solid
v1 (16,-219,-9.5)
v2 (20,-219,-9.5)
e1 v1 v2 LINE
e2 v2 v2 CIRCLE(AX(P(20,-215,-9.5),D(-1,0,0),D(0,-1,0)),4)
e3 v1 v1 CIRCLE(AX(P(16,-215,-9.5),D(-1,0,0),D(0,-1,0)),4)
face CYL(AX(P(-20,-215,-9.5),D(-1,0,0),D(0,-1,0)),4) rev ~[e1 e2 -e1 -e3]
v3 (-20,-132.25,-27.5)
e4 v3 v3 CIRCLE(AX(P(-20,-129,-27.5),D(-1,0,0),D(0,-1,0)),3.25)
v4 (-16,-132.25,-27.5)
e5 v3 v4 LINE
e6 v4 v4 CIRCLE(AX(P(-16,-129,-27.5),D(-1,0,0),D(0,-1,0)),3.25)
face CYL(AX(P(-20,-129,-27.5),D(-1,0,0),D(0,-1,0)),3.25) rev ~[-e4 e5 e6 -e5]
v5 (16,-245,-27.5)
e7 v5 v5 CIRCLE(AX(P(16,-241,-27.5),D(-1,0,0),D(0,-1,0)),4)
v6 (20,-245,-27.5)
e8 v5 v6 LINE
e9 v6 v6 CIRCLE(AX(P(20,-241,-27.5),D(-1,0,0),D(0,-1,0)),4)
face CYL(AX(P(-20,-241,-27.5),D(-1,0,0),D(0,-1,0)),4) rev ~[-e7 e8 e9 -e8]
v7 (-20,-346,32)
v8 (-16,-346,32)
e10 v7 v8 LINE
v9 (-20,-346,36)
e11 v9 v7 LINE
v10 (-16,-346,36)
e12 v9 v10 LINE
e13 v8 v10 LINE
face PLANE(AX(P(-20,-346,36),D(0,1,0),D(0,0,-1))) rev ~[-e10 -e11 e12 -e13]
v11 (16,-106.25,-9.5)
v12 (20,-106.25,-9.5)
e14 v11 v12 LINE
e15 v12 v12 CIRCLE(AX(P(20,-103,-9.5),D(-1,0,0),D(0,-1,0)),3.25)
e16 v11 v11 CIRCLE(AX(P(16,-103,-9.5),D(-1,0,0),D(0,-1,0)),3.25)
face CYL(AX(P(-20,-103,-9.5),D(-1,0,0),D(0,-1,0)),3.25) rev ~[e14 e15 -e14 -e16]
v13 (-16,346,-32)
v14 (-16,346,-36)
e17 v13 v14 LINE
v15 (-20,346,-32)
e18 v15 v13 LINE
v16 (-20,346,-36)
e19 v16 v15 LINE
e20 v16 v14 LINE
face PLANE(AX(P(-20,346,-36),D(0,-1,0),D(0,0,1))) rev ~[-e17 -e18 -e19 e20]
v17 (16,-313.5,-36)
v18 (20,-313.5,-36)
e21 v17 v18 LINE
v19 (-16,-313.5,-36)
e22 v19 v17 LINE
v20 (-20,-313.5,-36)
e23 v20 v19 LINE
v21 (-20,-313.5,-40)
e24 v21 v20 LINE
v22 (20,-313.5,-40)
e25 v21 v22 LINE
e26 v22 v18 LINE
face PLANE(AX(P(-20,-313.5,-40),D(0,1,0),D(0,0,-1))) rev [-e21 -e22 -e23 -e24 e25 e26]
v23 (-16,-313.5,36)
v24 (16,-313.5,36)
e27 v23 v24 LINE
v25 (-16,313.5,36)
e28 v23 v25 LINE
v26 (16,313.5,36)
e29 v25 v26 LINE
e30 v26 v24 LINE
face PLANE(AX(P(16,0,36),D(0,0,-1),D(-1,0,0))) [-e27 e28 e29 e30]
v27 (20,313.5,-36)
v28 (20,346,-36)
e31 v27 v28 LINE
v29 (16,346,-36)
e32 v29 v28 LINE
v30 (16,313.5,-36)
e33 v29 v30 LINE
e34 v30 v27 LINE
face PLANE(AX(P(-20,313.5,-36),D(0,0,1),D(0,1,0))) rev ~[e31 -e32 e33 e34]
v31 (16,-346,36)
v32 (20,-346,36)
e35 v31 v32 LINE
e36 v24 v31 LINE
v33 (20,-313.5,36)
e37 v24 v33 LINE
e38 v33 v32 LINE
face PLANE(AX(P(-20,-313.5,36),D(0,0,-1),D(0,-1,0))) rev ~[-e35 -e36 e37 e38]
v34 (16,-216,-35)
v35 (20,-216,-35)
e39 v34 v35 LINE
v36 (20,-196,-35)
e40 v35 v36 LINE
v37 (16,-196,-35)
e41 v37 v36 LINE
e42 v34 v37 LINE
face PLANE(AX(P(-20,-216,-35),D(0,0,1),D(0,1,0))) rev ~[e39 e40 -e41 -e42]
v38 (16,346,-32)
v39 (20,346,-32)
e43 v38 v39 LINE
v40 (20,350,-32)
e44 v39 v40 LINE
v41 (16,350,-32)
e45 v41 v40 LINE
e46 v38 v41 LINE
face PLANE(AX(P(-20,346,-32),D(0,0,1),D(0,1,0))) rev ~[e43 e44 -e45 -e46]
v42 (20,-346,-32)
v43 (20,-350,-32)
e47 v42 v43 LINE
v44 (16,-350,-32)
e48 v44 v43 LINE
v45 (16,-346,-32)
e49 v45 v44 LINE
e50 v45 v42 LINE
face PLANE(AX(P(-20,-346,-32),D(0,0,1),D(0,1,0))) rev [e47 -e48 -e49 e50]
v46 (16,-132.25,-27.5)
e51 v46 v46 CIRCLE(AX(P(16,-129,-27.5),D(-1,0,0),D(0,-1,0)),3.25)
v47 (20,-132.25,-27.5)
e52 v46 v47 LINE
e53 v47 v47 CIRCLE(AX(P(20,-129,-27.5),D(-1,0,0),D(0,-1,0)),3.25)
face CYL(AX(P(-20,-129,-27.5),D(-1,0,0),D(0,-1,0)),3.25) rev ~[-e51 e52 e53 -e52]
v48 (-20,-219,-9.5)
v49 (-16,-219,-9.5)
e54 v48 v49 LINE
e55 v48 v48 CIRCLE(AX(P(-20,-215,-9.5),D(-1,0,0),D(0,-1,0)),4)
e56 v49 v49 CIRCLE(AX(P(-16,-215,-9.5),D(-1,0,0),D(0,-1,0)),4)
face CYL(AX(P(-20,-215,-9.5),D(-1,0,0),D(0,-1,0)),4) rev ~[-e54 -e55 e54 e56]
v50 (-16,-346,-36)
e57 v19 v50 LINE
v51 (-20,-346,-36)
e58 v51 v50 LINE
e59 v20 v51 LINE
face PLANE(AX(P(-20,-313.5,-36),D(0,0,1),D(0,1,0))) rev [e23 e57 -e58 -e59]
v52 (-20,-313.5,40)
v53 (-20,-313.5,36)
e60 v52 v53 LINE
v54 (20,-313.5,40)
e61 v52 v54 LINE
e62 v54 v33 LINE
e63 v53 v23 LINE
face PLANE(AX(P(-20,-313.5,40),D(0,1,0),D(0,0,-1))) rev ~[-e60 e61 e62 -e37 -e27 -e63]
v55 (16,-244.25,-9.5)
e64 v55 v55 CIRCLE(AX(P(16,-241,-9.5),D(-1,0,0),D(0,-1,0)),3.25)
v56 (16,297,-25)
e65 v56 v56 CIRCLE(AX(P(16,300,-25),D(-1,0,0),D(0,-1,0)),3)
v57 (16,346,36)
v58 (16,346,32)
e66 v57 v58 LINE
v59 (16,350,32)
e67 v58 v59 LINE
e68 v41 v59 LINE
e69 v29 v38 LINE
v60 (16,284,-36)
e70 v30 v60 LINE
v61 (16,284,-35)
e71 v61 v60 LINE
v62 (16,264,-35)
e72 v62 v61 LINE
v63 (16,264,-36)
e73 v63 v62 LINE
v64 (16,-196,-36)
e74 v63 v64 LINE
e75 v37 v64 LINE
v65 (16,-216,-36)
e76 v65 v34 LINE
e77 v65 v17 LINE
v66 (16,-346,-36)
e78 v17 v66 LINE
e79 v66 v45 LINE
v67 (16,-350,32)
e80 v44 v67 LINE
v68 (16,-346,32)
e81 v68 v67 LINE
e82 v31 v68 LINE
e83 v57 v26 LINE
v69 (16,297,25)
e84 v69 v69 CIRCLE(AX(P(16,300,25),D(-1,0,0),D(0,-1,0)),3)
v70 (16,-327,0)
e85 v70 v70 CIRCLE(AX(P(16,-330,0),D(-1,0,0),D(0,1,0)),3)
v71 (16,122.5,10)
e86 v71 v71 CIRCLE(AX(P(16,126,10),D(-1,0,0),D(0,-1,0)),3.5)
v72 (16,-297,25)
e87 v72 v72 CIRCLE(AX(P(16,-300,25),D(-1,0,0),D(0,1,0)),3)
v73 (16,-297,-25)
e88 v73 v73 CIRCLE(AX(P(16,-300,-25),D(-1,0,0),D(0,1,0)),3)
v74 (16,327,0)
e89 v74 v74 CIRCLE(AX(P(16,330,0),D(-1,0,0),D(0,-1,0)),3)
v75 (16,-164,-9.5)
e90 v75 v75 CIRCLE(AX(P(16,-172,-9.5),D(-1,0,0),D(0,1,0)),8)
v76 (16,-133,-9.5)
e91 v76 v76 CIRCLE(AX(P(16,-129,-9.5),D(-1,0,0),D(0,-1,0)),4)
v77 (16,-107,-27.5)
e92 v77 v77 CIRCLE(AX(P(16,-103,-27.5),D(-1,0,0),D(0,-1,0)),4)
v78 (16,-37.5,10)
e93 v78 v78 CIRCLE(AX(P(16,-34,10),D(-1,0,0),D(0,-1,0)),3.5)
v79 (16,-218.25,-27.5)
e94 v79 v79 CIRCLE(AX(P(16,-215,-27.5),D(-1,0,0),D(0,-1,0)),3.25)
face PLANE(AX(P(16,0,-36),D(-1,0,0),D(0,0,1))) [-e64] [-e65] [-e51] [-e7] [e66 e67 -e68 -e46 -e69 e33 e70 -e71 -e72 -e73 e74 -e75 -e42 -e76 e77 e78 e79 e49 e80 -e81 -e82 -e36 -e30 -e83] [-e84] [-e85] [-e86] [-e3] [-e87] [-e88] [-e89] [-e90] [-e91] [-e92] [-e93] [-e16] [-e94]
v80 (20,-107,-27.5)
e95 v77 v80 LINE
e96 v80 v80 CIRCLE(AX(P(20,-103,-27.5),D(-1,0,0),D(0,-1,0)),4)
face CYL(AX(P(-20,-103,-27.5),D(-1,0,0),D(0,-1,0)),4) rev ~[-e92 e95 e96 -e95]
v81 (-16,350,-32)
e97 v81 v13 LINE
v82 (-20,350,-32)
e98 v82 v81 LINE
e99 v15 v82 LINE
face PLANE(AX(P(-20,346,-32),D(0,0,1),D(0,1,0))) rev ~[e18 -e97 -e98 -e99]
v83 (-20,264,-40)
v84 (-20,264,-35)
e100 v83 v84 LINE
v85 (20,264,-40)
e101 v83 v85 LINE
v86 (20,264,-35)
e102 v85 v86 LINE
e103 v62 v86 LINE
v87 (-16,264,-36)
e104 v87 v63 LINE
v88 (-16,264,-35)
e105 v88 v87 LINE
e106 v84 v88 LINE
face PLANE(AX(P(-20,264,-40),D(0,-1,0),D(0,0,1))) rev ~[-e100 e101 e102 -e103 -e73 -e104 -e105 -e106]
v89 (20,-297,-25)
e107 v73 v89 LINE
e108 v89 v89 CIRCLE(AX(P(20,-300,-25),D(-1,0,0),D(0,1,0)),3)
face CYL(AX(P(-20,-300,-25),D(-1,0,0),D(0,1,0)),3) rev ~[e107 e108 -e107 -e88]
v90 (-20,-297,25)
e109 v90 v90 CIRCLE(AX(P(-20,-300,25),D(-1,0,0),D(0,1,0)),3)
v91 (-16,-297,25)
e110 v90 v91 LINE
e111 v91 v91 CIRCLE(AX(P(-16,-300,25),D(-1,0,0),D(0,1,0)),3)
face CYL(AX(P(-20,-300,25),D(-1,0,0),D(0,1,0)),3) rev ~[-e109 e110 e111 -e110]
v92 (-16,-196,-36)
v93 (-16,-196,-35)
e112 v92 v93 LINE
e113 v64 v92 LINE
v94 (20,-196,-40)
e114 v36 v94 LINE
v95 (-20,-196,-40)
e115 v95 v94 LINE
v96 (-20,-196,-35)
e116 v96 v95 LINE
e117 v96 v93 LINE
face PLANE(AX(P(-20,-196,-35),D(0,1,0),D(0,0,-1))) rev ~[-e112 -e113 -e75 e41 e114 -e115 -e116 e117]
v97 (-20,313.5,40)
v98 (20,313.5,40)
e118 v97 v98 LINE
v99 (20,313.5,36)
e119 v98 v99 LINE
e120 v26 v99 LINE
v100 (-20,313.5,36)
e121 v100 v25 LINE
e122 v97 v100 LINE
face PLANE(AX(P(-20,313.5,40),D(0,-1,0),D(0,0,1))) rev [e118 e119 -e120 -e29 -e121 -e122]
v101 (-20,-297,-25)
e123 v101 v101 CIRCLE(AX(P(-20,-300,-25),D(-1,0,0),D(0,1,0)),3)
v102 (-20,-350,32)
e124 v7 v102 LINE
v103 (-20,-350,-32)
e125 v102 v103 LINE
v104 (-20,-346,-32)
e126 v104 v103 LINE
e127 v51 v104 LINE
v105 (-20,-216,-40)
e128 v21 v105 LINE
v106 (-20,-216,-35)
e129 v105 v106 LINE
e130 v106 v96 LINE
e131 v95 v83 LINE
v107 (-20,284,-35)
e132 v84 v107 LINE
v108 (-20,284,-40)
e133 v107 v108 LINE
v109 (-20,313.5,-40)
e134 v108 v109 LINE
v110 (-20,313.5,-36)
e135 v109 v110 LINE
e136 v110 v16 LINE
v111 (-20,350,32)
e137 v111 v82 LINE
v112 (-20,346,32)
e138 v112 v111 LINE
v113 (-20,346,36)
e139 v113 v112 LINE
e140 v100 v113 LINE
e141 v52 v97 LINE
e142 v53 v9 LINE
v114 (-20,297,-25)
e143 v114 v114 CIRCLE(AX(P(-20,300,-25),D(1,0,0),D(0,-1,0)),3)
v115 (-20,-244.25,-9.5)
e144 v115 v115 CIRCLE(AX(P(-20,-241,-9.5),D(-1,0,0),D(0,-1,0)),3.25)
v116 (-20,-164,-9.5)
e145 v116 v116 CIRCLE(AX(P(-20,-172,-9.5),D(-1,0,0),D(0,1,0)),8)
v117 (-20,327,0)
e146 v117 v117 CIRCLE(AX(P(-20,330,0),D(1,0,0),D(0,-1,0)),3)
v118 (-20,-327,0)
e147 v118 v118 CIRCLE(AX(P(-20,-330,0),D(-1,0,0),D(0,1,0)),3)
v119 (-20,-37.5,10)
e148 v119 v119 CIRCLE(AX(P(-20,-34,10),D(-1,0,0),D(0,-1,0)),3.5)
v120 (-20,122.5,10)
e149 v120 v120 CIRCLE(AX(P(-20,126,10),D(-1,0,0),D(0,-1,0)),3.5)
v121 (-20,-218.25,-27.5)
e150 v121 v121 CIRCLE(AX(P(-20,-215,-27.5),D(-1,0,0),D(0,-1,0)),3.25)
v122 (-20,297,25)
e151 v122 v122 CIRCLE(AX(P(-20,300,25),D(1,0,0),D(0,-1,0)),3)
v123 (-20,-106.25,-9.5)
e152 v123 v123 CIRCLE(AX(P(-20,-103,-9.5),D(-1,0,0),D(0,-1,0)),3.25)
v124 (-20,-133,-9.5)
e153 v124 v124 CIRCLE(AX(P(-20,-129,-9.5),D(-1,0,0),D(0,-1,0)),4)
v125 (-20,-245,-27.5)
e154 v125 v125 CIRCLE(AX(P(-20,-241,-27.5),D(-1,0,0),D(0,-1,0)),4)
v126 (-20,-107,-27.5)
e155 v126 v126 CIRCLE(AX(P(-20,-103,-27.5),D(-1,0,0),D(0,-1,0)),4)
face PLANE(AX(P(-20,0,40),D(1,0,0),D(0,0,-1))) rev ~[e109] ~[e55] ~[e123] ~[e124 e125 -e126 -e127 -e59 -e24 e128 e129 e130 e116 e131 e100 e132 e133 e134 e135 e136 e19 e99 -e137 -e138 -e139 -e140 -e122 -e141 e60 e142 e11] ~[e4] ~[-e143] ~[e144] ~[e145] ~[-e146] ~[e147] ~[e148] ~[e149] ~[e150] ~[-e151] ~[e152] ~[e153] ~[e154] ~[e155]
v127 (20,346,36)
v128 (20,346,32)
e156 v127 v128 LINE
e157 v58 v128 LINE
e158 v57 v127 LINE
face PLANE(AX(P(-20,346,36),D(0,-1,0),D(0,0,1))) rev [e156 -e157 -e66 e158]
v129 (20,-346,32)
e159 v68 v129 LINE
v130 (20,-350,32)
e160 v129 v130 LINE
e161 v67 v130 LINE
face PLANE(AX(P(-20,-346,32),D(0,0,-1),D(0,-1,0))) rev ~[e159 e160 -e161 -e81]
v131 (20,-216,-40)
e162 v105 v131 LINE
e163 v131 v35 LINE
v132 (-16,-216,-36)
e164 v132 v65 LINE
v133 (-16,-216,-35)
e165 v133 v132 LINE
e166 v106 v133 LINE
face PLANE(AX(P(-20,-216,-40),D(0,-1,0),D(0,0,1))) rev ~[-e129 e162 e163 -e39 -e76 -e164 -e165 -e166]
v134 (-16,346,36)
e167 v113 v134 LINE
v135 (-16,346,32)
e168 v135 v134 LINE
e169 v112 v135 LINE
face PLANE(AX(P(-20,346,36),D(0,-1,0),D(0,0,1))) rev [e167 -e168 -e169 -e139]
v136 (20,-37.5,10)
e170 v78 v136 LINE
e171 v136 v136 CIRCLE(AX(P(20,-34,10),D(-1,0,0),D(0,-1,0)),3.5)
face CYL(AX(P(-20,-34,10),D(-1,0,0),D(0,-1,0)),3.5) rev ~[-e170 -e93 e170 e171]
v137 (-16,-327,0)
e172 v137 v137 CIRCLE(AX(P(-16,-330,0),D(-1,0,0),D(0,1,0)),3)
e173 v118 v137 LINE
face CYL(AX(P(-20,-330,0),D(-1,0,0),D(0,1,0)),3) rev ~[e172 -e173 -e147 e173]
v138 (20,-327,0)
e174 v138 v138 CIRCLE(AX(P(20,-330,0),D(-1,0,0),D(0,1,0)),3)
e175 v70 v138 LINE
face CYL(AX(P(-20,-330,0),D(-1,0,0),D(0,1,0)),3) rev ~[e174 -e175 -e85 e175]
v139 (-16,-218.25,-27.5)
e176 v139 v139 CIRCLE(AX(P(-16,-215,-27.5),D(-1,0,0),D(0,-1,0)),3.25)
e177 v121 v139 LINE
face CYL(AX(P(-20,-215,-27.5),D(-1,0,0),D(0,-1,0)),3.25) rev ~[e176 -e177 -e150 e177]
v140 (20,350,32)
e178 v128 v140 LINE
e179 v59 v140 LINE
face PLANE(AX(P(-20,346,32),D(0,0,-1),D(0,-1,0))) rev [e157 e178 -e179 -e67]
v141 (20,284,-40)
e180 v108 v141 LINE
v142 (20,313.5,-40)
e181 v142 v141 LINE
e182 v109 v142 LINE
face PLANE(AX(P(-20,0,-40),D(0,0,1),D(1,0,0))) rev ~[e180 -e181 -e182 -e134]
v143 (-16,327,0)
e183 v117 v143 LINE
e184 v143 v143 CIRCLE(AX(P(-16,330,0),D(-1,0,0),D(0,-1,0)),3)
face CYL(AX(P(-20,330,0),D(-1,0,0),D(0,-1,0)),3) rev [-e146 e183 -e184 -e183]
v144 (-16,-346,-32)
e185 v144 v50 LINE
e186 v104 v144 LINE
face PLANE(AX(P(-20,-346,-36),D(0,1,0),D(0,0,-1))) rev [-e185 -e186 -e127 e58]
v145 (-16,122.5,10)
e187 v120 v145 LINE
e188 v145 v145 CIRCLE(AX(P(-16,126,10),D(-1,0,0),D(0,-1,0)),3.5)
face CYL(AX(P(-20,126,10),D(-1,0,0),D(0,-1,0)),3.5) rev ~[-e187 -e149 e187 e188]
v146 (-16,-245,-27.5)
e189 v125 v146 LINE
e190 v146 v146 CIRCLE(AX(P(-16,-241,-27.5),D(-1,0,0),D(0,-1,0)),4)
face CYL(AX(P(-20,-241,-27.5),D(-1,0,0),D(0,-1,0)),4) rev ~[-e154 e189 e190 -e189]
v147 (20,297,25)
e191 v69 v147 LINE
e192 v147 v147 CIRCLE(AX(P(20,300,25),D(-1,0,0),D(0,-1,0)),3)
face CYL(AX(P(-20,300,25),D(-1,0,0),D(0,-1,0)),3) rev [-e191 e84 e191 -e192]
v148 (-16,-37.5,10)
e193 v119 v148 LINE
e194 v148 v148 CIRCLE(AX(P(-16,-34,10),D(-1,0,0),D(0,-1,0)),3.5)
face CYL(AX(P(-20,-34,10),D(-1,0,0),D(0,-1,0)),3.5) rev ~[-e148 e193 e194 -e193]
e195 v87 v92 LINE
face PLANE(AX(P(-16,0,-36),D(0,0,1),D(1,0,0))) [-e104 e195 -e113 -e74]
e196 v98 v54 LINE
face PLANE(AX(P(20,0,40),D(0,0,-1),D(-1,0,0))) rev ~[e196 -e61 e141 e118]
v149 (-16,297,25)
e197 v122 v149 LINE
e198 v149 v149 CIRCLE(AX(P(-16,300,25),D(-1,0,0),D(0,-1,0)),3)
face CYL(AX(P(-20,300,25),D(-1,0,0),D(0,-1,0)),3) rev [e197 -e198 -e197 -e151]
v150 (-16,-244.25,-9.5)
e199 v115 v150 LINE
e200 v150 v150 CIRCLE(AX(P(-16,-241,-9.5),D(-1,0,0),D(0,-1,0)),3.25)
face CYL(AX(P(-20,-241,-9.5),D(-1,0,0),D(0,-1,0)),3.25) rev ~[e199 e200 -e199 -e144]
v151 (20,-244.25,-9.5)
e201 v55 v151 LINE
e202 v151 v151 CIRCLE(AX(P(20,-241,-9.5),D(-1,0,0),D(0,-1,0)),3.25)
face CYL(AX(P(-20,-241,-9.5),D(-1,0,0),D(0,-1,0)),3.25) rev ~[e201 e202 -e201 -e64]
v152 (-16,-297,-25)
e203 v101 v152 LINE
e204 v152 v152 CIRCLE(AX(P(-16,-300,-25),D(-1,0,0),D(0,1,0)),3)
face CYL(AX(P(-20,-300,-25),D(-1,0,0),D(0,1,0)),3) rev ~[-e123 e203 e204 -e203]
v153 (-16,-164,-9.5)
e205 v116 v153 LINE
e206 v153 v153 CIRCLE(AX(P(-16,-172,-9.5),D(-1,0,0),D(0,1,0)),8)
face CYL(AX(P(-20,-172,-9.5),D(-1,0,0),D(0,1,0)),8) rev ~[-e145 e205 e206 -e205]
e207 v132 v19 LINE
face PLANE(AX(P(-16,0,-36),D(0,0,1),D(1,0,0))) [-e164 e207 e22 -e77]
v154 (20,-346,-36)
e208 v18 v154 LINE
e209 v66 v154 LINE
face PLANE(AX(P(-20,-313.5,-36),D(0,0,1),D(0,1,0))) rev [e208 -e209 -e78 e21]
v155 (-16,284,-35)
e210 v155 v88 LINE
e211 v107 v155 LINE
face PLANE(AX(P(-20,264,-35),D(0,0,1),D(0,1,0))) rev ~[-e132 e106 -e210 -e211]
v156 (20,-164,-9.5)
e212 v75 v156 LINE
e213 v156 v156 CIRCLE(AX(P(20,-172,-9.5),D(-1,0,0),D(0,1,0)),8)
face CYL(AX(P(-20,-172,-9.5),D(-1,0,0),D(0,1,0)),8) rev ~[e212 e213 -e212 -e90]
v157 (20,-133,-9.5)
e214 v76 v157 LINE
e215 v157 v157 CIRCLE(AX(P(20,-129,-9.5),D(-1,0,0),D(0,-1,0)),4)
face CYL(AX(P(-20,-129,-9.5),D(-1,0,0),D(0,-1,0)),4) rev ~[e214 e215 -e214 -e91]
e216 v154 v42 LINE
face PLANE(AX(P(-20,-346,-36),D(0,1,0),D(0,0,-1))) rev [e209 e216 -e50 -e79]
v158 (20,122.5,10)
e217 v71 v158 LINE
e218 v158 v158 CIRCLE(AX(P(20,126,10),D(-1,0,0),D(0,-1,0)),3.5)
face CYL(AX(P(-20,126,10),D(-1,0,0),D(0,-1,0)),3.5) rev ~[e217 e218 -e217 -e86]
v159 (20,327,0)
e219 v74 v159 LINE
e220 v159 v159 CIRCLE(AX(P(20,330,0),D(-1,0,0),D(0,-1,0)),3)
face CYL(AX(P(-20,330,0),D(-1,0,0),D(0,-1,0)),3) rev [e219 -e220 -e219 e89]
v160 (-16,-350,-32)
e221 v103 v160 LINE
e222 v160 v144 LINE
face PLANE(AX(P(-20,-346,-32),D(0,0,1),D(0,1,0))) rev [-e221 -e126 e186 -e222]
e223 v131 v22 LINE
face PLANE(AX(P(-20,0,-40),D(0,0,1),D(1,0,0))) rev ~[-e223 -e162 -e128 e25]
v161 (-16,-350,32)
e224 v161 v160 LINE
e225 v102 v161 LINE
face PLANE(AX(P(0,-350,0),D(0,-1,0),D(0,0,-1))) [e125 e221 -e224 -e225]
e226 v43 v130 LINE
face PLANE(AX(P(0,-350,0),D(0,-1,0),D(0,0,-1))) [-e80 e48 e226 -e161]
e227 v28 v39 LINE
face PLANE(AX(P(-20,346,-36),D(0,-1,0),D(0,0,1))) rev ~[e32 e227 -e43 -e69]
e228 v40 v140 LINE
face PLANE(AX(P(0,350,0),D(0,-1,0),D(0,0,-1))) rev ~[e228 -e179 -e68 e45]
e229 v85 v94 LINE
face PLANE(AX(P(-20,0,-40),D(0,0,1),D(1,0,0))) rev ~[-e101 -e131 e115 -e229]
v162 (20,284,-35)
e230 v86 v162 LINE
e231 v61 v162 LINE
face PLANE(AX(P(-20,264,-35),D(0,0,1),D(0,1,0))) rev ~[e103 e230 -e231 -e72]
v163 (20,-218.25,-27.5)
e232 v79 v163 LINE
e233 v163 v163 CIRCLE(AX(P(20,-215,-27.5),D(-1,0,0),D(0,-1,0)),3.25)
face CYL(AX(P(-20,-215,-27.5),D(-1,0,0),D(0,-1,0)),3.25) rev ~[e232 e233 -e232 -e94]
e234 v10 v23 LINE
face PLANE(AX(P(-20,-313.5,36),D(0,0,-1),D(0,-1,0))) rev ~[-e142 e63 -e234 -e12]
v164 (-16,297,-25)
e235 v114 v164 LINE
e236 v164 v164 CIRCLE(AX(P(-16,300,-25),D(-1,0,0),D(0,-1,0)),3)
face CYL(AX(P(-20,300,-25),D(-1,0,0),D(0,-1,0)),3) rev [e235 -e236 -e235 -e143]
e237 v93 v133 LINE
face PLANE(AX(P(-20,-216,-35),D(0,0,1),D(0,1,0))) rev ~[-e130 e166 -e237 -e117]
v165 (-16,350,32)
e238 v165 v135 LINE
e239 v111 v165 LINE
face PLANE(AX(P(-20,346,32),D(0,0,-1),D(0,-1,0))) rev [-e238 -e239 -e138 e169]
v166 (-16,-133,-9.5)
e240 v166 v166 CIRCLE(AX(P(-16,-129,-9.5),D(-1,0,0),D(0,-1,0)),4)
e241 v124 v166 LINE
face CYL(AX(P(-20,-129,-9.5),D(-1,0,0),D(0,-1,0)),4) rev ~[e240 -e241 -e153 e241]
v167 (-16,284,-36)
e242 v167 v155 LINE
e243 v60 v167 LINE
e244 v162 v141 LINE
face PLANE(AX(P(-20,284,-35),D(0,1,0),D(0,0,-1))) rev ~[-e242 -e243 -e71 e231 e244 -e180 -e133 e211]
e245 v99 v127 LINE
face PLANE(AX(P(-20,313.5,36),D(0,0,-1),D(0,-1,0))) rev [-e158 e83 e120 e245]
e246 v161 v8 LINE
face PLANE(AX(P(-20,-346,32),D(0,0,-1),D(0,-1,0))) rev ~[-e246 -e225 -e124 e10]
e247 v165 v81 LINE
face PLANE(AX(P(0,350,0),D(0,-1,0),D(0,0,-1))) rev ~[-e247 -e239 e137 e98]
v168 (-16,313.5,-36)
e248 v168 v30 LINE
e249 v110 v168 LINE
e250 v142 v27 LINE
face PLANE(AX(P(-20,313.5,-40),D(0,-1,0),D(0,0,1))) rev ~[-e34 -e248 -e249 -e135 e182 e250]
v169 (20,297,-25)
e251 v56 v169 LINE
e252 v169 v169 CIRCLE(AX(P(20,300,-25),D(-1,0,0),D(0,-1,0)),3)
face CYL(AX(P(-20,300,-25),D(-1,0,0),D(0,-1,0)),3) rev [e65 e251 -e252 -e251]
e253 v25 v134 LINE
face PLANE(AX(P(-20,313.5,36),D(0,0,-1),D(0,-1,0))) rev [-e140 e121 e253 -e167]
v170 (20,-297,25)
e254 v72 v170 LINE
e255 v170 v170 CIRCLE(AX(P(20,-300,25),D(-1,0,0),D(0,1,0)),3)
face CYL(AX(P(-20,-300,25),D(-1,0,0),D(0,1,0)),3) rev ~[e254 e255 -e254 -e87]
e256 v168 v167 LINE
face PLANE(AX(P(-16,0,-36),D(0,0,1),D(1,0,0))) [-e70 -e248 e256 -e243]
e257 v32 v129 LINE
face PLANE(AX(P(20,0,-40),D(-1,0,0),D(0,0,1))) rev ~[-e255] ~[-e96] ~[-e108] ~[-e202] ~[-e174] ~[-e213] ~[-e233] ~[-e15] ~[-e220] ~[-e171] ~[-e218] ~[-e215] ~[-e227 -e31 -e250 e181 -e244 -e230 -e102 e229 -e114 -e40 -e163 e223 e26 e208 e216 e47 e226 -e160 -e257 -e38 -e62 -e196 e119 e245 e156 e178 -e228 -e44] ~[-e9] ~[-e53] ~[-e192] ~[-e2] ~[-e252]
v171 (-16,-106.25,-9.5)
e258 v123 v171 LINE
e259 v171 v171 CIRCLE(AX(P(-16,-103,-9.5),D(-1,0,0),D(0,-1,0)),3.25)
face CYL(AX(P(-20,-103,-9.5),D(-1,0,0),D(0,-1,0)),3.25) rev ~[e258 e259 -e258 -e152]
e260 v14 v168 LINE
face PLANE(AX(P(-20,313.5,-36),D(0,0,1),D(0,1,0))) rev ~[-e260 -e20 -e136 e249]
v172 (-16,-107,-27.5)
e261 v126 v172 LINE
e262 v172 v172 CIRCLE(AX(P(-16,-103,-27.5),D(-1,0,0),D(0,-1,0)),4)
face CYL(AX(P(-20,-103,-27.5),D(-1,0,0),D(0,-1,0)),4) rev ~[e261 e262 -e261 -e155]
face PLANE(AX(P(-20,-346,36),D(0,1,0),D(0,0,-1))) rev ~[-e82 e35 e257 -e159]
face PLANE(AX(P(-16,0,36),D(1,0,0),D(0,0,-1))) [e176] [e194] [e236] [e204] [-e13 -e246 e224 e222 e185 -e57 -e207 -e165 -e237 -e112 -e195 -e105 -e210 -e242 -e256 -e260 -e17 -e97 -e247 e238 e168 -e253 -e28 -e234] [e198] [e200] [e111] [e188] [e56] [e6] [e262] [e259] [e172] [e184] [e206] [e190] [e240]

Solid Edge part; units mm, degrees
sketch "Sketch1" plane through (0, 0, 0) normal (0, -1, 0) x (1, 0, 0)
  line L0 (-16, -36) -> (16, -36)
  line L1 (16, -36) -> (16, 36)
  line L2 (16, 36) -> (-16, 36)
  line L3 (-16, 36) -> (-16, -36)
  line L4 (-20, -40) -> (20, -40)
  line L5 (20, -40) -> (20, 40)
  line L6 (20, 40) -> (-20, 40)
  line L7 (-20, 40) -> (-20, -40)
  dimension "D1" = 40
  dimension "D2" = 4
  dimension "D3" = 80
  dimension "D4" = 4
extrude "Protrusion1" add sketch "Sketch1" along normal mid plane 700
sketch "Sketch2" plane through (-20, 0, 0) normal (-1, 0, 0) x (0, -1, 0)
  line L0 (196, -40) -> (216, -40)
  line L1 (216, -40) -> (216, -35)
  line L2 (216, -35) -> (196, -35)
  line L3 (196, -35) -> (196, -40)
  line L4 (-284, -40) -> (-264, -40)
  line L5 (-264, -40) -> (-264, -35)
  line L6 (-264, -35) -> (-284, -35)
  line L7 (-284, -35) -> (-284, -40)
  dimension "D1" = 20
  dimension "D2" = 5
  dimension "D3" = 76
  dimension "D4" = 20
  dimension "D5" = 5
  dimension "D6" = 144
extrude "Cutout1" cut sketch "Sketch2" against normal through all
sketch "Sketch3" plane through (-20, 0, 0) normal (-1, 0, 0) x (0, -1, 0)
  circle A0 centre (-126, 10) radius 3.5
  circle A1 centre (34, 10) radius 3.5
  dimension "D1" = 6.5
  dimension "D2" = 160
  dimension "D3" = 30
  dimension "D4" = 224
extrude "Cutout2" cut sketch "Sketch3" against normal through all
sketch "Sketch4" plane through (-20, 0, 0) normal (-1, 0, 0) x (0, -1, 0)
  line L0 (350, 40) -> (313.5, 40)
  line L1 (313.5, 40) -> (313.5, 36)
  line L2 (313.5, 36) -> (346, 36)
  line L3 (346, 36) -> (346, 32)
  line L4 (346, 32) -> (350, 32)
  line L5 (350, 32) -> (350, 40)
  dimension "D1" = 8
  dimension "D2" = 36.5
  dimension "D3" = 4
  dimension "D4" = 4
  dimension "D5" = 4
extrude "Cutout3" cut sketch "Sketch4" against normal through all
mirror "Mirror1" about plane through (0, 0, 0) normal (0, 0, 1) of "Cutout3"
mirror "Mirror2" about plane through (0, 0, 0) normal (0, -1, 0) of "Cutout3", "Mirror1"
sketch "Sketch5" plane through (-20, 0, 0) normal (-1, 0, 0) x (0, 1, 0)
  circle A0 centre (-330, 0) radius 3
  circle A1 centre (-300, -25) radius 3
  circle A2 centre (-300, 25) radius 3
  dimension "D1" = 50
  dimension "D2" = 30
  dimension "D3" = 20
  dimension "D4" = 6
extrude "Cutout4" cut sketch "Sketch5" against normal through all
mirror "Mirror3" about plane through (0, 0, 0) normal (0, -1, 0) of "Cutout4"
sketch "Sketch6" plane through (-20, 0, 0) normal (-1, 0, 0) x (0, -1, 0)
  circle A0 centre (241, -27.5) radius 4
  circle A1 centre (241, -9.5) radius 3.25
  circle A2 centre (215, -27.5) radius 3.25
  circle A3 centre (215, -9.5) radius 4
  circle A4 centre (129, -9.5) radius 4
  circle A5 centre (103, -9.5) radius 3.25
  circle A6 centre (103, -27.5) radius 4
  circle A7 centre (129, -27.5) radius 3.25
  dimension "D1" = 6.5
  dimension "D2" = 8
  dimension "D3" = 26
  dimension "D4" = 18
  dimension "D5" = 109
  dimension "D6" = 30.5
  dimension "D7" = 8
  dimension "D8" = 6.5
  dimension "D9" = 26
  dimension "D10" = 18
  dimension "D11" = 86
extrude "Cutout5" cut sketch "Sketch6" against normal through all
sketch "Sketch7" plane through (-20, 0, 0) normal (-1, 0, 0) x (0, 1, 0)
  circle A0 centre (-172, 9.5) radius 8
  dimension "D1" = 16
extrude "Cutout6" cut sketch "Sketch7" against normal through all
properties material "AlSi7Mg"
